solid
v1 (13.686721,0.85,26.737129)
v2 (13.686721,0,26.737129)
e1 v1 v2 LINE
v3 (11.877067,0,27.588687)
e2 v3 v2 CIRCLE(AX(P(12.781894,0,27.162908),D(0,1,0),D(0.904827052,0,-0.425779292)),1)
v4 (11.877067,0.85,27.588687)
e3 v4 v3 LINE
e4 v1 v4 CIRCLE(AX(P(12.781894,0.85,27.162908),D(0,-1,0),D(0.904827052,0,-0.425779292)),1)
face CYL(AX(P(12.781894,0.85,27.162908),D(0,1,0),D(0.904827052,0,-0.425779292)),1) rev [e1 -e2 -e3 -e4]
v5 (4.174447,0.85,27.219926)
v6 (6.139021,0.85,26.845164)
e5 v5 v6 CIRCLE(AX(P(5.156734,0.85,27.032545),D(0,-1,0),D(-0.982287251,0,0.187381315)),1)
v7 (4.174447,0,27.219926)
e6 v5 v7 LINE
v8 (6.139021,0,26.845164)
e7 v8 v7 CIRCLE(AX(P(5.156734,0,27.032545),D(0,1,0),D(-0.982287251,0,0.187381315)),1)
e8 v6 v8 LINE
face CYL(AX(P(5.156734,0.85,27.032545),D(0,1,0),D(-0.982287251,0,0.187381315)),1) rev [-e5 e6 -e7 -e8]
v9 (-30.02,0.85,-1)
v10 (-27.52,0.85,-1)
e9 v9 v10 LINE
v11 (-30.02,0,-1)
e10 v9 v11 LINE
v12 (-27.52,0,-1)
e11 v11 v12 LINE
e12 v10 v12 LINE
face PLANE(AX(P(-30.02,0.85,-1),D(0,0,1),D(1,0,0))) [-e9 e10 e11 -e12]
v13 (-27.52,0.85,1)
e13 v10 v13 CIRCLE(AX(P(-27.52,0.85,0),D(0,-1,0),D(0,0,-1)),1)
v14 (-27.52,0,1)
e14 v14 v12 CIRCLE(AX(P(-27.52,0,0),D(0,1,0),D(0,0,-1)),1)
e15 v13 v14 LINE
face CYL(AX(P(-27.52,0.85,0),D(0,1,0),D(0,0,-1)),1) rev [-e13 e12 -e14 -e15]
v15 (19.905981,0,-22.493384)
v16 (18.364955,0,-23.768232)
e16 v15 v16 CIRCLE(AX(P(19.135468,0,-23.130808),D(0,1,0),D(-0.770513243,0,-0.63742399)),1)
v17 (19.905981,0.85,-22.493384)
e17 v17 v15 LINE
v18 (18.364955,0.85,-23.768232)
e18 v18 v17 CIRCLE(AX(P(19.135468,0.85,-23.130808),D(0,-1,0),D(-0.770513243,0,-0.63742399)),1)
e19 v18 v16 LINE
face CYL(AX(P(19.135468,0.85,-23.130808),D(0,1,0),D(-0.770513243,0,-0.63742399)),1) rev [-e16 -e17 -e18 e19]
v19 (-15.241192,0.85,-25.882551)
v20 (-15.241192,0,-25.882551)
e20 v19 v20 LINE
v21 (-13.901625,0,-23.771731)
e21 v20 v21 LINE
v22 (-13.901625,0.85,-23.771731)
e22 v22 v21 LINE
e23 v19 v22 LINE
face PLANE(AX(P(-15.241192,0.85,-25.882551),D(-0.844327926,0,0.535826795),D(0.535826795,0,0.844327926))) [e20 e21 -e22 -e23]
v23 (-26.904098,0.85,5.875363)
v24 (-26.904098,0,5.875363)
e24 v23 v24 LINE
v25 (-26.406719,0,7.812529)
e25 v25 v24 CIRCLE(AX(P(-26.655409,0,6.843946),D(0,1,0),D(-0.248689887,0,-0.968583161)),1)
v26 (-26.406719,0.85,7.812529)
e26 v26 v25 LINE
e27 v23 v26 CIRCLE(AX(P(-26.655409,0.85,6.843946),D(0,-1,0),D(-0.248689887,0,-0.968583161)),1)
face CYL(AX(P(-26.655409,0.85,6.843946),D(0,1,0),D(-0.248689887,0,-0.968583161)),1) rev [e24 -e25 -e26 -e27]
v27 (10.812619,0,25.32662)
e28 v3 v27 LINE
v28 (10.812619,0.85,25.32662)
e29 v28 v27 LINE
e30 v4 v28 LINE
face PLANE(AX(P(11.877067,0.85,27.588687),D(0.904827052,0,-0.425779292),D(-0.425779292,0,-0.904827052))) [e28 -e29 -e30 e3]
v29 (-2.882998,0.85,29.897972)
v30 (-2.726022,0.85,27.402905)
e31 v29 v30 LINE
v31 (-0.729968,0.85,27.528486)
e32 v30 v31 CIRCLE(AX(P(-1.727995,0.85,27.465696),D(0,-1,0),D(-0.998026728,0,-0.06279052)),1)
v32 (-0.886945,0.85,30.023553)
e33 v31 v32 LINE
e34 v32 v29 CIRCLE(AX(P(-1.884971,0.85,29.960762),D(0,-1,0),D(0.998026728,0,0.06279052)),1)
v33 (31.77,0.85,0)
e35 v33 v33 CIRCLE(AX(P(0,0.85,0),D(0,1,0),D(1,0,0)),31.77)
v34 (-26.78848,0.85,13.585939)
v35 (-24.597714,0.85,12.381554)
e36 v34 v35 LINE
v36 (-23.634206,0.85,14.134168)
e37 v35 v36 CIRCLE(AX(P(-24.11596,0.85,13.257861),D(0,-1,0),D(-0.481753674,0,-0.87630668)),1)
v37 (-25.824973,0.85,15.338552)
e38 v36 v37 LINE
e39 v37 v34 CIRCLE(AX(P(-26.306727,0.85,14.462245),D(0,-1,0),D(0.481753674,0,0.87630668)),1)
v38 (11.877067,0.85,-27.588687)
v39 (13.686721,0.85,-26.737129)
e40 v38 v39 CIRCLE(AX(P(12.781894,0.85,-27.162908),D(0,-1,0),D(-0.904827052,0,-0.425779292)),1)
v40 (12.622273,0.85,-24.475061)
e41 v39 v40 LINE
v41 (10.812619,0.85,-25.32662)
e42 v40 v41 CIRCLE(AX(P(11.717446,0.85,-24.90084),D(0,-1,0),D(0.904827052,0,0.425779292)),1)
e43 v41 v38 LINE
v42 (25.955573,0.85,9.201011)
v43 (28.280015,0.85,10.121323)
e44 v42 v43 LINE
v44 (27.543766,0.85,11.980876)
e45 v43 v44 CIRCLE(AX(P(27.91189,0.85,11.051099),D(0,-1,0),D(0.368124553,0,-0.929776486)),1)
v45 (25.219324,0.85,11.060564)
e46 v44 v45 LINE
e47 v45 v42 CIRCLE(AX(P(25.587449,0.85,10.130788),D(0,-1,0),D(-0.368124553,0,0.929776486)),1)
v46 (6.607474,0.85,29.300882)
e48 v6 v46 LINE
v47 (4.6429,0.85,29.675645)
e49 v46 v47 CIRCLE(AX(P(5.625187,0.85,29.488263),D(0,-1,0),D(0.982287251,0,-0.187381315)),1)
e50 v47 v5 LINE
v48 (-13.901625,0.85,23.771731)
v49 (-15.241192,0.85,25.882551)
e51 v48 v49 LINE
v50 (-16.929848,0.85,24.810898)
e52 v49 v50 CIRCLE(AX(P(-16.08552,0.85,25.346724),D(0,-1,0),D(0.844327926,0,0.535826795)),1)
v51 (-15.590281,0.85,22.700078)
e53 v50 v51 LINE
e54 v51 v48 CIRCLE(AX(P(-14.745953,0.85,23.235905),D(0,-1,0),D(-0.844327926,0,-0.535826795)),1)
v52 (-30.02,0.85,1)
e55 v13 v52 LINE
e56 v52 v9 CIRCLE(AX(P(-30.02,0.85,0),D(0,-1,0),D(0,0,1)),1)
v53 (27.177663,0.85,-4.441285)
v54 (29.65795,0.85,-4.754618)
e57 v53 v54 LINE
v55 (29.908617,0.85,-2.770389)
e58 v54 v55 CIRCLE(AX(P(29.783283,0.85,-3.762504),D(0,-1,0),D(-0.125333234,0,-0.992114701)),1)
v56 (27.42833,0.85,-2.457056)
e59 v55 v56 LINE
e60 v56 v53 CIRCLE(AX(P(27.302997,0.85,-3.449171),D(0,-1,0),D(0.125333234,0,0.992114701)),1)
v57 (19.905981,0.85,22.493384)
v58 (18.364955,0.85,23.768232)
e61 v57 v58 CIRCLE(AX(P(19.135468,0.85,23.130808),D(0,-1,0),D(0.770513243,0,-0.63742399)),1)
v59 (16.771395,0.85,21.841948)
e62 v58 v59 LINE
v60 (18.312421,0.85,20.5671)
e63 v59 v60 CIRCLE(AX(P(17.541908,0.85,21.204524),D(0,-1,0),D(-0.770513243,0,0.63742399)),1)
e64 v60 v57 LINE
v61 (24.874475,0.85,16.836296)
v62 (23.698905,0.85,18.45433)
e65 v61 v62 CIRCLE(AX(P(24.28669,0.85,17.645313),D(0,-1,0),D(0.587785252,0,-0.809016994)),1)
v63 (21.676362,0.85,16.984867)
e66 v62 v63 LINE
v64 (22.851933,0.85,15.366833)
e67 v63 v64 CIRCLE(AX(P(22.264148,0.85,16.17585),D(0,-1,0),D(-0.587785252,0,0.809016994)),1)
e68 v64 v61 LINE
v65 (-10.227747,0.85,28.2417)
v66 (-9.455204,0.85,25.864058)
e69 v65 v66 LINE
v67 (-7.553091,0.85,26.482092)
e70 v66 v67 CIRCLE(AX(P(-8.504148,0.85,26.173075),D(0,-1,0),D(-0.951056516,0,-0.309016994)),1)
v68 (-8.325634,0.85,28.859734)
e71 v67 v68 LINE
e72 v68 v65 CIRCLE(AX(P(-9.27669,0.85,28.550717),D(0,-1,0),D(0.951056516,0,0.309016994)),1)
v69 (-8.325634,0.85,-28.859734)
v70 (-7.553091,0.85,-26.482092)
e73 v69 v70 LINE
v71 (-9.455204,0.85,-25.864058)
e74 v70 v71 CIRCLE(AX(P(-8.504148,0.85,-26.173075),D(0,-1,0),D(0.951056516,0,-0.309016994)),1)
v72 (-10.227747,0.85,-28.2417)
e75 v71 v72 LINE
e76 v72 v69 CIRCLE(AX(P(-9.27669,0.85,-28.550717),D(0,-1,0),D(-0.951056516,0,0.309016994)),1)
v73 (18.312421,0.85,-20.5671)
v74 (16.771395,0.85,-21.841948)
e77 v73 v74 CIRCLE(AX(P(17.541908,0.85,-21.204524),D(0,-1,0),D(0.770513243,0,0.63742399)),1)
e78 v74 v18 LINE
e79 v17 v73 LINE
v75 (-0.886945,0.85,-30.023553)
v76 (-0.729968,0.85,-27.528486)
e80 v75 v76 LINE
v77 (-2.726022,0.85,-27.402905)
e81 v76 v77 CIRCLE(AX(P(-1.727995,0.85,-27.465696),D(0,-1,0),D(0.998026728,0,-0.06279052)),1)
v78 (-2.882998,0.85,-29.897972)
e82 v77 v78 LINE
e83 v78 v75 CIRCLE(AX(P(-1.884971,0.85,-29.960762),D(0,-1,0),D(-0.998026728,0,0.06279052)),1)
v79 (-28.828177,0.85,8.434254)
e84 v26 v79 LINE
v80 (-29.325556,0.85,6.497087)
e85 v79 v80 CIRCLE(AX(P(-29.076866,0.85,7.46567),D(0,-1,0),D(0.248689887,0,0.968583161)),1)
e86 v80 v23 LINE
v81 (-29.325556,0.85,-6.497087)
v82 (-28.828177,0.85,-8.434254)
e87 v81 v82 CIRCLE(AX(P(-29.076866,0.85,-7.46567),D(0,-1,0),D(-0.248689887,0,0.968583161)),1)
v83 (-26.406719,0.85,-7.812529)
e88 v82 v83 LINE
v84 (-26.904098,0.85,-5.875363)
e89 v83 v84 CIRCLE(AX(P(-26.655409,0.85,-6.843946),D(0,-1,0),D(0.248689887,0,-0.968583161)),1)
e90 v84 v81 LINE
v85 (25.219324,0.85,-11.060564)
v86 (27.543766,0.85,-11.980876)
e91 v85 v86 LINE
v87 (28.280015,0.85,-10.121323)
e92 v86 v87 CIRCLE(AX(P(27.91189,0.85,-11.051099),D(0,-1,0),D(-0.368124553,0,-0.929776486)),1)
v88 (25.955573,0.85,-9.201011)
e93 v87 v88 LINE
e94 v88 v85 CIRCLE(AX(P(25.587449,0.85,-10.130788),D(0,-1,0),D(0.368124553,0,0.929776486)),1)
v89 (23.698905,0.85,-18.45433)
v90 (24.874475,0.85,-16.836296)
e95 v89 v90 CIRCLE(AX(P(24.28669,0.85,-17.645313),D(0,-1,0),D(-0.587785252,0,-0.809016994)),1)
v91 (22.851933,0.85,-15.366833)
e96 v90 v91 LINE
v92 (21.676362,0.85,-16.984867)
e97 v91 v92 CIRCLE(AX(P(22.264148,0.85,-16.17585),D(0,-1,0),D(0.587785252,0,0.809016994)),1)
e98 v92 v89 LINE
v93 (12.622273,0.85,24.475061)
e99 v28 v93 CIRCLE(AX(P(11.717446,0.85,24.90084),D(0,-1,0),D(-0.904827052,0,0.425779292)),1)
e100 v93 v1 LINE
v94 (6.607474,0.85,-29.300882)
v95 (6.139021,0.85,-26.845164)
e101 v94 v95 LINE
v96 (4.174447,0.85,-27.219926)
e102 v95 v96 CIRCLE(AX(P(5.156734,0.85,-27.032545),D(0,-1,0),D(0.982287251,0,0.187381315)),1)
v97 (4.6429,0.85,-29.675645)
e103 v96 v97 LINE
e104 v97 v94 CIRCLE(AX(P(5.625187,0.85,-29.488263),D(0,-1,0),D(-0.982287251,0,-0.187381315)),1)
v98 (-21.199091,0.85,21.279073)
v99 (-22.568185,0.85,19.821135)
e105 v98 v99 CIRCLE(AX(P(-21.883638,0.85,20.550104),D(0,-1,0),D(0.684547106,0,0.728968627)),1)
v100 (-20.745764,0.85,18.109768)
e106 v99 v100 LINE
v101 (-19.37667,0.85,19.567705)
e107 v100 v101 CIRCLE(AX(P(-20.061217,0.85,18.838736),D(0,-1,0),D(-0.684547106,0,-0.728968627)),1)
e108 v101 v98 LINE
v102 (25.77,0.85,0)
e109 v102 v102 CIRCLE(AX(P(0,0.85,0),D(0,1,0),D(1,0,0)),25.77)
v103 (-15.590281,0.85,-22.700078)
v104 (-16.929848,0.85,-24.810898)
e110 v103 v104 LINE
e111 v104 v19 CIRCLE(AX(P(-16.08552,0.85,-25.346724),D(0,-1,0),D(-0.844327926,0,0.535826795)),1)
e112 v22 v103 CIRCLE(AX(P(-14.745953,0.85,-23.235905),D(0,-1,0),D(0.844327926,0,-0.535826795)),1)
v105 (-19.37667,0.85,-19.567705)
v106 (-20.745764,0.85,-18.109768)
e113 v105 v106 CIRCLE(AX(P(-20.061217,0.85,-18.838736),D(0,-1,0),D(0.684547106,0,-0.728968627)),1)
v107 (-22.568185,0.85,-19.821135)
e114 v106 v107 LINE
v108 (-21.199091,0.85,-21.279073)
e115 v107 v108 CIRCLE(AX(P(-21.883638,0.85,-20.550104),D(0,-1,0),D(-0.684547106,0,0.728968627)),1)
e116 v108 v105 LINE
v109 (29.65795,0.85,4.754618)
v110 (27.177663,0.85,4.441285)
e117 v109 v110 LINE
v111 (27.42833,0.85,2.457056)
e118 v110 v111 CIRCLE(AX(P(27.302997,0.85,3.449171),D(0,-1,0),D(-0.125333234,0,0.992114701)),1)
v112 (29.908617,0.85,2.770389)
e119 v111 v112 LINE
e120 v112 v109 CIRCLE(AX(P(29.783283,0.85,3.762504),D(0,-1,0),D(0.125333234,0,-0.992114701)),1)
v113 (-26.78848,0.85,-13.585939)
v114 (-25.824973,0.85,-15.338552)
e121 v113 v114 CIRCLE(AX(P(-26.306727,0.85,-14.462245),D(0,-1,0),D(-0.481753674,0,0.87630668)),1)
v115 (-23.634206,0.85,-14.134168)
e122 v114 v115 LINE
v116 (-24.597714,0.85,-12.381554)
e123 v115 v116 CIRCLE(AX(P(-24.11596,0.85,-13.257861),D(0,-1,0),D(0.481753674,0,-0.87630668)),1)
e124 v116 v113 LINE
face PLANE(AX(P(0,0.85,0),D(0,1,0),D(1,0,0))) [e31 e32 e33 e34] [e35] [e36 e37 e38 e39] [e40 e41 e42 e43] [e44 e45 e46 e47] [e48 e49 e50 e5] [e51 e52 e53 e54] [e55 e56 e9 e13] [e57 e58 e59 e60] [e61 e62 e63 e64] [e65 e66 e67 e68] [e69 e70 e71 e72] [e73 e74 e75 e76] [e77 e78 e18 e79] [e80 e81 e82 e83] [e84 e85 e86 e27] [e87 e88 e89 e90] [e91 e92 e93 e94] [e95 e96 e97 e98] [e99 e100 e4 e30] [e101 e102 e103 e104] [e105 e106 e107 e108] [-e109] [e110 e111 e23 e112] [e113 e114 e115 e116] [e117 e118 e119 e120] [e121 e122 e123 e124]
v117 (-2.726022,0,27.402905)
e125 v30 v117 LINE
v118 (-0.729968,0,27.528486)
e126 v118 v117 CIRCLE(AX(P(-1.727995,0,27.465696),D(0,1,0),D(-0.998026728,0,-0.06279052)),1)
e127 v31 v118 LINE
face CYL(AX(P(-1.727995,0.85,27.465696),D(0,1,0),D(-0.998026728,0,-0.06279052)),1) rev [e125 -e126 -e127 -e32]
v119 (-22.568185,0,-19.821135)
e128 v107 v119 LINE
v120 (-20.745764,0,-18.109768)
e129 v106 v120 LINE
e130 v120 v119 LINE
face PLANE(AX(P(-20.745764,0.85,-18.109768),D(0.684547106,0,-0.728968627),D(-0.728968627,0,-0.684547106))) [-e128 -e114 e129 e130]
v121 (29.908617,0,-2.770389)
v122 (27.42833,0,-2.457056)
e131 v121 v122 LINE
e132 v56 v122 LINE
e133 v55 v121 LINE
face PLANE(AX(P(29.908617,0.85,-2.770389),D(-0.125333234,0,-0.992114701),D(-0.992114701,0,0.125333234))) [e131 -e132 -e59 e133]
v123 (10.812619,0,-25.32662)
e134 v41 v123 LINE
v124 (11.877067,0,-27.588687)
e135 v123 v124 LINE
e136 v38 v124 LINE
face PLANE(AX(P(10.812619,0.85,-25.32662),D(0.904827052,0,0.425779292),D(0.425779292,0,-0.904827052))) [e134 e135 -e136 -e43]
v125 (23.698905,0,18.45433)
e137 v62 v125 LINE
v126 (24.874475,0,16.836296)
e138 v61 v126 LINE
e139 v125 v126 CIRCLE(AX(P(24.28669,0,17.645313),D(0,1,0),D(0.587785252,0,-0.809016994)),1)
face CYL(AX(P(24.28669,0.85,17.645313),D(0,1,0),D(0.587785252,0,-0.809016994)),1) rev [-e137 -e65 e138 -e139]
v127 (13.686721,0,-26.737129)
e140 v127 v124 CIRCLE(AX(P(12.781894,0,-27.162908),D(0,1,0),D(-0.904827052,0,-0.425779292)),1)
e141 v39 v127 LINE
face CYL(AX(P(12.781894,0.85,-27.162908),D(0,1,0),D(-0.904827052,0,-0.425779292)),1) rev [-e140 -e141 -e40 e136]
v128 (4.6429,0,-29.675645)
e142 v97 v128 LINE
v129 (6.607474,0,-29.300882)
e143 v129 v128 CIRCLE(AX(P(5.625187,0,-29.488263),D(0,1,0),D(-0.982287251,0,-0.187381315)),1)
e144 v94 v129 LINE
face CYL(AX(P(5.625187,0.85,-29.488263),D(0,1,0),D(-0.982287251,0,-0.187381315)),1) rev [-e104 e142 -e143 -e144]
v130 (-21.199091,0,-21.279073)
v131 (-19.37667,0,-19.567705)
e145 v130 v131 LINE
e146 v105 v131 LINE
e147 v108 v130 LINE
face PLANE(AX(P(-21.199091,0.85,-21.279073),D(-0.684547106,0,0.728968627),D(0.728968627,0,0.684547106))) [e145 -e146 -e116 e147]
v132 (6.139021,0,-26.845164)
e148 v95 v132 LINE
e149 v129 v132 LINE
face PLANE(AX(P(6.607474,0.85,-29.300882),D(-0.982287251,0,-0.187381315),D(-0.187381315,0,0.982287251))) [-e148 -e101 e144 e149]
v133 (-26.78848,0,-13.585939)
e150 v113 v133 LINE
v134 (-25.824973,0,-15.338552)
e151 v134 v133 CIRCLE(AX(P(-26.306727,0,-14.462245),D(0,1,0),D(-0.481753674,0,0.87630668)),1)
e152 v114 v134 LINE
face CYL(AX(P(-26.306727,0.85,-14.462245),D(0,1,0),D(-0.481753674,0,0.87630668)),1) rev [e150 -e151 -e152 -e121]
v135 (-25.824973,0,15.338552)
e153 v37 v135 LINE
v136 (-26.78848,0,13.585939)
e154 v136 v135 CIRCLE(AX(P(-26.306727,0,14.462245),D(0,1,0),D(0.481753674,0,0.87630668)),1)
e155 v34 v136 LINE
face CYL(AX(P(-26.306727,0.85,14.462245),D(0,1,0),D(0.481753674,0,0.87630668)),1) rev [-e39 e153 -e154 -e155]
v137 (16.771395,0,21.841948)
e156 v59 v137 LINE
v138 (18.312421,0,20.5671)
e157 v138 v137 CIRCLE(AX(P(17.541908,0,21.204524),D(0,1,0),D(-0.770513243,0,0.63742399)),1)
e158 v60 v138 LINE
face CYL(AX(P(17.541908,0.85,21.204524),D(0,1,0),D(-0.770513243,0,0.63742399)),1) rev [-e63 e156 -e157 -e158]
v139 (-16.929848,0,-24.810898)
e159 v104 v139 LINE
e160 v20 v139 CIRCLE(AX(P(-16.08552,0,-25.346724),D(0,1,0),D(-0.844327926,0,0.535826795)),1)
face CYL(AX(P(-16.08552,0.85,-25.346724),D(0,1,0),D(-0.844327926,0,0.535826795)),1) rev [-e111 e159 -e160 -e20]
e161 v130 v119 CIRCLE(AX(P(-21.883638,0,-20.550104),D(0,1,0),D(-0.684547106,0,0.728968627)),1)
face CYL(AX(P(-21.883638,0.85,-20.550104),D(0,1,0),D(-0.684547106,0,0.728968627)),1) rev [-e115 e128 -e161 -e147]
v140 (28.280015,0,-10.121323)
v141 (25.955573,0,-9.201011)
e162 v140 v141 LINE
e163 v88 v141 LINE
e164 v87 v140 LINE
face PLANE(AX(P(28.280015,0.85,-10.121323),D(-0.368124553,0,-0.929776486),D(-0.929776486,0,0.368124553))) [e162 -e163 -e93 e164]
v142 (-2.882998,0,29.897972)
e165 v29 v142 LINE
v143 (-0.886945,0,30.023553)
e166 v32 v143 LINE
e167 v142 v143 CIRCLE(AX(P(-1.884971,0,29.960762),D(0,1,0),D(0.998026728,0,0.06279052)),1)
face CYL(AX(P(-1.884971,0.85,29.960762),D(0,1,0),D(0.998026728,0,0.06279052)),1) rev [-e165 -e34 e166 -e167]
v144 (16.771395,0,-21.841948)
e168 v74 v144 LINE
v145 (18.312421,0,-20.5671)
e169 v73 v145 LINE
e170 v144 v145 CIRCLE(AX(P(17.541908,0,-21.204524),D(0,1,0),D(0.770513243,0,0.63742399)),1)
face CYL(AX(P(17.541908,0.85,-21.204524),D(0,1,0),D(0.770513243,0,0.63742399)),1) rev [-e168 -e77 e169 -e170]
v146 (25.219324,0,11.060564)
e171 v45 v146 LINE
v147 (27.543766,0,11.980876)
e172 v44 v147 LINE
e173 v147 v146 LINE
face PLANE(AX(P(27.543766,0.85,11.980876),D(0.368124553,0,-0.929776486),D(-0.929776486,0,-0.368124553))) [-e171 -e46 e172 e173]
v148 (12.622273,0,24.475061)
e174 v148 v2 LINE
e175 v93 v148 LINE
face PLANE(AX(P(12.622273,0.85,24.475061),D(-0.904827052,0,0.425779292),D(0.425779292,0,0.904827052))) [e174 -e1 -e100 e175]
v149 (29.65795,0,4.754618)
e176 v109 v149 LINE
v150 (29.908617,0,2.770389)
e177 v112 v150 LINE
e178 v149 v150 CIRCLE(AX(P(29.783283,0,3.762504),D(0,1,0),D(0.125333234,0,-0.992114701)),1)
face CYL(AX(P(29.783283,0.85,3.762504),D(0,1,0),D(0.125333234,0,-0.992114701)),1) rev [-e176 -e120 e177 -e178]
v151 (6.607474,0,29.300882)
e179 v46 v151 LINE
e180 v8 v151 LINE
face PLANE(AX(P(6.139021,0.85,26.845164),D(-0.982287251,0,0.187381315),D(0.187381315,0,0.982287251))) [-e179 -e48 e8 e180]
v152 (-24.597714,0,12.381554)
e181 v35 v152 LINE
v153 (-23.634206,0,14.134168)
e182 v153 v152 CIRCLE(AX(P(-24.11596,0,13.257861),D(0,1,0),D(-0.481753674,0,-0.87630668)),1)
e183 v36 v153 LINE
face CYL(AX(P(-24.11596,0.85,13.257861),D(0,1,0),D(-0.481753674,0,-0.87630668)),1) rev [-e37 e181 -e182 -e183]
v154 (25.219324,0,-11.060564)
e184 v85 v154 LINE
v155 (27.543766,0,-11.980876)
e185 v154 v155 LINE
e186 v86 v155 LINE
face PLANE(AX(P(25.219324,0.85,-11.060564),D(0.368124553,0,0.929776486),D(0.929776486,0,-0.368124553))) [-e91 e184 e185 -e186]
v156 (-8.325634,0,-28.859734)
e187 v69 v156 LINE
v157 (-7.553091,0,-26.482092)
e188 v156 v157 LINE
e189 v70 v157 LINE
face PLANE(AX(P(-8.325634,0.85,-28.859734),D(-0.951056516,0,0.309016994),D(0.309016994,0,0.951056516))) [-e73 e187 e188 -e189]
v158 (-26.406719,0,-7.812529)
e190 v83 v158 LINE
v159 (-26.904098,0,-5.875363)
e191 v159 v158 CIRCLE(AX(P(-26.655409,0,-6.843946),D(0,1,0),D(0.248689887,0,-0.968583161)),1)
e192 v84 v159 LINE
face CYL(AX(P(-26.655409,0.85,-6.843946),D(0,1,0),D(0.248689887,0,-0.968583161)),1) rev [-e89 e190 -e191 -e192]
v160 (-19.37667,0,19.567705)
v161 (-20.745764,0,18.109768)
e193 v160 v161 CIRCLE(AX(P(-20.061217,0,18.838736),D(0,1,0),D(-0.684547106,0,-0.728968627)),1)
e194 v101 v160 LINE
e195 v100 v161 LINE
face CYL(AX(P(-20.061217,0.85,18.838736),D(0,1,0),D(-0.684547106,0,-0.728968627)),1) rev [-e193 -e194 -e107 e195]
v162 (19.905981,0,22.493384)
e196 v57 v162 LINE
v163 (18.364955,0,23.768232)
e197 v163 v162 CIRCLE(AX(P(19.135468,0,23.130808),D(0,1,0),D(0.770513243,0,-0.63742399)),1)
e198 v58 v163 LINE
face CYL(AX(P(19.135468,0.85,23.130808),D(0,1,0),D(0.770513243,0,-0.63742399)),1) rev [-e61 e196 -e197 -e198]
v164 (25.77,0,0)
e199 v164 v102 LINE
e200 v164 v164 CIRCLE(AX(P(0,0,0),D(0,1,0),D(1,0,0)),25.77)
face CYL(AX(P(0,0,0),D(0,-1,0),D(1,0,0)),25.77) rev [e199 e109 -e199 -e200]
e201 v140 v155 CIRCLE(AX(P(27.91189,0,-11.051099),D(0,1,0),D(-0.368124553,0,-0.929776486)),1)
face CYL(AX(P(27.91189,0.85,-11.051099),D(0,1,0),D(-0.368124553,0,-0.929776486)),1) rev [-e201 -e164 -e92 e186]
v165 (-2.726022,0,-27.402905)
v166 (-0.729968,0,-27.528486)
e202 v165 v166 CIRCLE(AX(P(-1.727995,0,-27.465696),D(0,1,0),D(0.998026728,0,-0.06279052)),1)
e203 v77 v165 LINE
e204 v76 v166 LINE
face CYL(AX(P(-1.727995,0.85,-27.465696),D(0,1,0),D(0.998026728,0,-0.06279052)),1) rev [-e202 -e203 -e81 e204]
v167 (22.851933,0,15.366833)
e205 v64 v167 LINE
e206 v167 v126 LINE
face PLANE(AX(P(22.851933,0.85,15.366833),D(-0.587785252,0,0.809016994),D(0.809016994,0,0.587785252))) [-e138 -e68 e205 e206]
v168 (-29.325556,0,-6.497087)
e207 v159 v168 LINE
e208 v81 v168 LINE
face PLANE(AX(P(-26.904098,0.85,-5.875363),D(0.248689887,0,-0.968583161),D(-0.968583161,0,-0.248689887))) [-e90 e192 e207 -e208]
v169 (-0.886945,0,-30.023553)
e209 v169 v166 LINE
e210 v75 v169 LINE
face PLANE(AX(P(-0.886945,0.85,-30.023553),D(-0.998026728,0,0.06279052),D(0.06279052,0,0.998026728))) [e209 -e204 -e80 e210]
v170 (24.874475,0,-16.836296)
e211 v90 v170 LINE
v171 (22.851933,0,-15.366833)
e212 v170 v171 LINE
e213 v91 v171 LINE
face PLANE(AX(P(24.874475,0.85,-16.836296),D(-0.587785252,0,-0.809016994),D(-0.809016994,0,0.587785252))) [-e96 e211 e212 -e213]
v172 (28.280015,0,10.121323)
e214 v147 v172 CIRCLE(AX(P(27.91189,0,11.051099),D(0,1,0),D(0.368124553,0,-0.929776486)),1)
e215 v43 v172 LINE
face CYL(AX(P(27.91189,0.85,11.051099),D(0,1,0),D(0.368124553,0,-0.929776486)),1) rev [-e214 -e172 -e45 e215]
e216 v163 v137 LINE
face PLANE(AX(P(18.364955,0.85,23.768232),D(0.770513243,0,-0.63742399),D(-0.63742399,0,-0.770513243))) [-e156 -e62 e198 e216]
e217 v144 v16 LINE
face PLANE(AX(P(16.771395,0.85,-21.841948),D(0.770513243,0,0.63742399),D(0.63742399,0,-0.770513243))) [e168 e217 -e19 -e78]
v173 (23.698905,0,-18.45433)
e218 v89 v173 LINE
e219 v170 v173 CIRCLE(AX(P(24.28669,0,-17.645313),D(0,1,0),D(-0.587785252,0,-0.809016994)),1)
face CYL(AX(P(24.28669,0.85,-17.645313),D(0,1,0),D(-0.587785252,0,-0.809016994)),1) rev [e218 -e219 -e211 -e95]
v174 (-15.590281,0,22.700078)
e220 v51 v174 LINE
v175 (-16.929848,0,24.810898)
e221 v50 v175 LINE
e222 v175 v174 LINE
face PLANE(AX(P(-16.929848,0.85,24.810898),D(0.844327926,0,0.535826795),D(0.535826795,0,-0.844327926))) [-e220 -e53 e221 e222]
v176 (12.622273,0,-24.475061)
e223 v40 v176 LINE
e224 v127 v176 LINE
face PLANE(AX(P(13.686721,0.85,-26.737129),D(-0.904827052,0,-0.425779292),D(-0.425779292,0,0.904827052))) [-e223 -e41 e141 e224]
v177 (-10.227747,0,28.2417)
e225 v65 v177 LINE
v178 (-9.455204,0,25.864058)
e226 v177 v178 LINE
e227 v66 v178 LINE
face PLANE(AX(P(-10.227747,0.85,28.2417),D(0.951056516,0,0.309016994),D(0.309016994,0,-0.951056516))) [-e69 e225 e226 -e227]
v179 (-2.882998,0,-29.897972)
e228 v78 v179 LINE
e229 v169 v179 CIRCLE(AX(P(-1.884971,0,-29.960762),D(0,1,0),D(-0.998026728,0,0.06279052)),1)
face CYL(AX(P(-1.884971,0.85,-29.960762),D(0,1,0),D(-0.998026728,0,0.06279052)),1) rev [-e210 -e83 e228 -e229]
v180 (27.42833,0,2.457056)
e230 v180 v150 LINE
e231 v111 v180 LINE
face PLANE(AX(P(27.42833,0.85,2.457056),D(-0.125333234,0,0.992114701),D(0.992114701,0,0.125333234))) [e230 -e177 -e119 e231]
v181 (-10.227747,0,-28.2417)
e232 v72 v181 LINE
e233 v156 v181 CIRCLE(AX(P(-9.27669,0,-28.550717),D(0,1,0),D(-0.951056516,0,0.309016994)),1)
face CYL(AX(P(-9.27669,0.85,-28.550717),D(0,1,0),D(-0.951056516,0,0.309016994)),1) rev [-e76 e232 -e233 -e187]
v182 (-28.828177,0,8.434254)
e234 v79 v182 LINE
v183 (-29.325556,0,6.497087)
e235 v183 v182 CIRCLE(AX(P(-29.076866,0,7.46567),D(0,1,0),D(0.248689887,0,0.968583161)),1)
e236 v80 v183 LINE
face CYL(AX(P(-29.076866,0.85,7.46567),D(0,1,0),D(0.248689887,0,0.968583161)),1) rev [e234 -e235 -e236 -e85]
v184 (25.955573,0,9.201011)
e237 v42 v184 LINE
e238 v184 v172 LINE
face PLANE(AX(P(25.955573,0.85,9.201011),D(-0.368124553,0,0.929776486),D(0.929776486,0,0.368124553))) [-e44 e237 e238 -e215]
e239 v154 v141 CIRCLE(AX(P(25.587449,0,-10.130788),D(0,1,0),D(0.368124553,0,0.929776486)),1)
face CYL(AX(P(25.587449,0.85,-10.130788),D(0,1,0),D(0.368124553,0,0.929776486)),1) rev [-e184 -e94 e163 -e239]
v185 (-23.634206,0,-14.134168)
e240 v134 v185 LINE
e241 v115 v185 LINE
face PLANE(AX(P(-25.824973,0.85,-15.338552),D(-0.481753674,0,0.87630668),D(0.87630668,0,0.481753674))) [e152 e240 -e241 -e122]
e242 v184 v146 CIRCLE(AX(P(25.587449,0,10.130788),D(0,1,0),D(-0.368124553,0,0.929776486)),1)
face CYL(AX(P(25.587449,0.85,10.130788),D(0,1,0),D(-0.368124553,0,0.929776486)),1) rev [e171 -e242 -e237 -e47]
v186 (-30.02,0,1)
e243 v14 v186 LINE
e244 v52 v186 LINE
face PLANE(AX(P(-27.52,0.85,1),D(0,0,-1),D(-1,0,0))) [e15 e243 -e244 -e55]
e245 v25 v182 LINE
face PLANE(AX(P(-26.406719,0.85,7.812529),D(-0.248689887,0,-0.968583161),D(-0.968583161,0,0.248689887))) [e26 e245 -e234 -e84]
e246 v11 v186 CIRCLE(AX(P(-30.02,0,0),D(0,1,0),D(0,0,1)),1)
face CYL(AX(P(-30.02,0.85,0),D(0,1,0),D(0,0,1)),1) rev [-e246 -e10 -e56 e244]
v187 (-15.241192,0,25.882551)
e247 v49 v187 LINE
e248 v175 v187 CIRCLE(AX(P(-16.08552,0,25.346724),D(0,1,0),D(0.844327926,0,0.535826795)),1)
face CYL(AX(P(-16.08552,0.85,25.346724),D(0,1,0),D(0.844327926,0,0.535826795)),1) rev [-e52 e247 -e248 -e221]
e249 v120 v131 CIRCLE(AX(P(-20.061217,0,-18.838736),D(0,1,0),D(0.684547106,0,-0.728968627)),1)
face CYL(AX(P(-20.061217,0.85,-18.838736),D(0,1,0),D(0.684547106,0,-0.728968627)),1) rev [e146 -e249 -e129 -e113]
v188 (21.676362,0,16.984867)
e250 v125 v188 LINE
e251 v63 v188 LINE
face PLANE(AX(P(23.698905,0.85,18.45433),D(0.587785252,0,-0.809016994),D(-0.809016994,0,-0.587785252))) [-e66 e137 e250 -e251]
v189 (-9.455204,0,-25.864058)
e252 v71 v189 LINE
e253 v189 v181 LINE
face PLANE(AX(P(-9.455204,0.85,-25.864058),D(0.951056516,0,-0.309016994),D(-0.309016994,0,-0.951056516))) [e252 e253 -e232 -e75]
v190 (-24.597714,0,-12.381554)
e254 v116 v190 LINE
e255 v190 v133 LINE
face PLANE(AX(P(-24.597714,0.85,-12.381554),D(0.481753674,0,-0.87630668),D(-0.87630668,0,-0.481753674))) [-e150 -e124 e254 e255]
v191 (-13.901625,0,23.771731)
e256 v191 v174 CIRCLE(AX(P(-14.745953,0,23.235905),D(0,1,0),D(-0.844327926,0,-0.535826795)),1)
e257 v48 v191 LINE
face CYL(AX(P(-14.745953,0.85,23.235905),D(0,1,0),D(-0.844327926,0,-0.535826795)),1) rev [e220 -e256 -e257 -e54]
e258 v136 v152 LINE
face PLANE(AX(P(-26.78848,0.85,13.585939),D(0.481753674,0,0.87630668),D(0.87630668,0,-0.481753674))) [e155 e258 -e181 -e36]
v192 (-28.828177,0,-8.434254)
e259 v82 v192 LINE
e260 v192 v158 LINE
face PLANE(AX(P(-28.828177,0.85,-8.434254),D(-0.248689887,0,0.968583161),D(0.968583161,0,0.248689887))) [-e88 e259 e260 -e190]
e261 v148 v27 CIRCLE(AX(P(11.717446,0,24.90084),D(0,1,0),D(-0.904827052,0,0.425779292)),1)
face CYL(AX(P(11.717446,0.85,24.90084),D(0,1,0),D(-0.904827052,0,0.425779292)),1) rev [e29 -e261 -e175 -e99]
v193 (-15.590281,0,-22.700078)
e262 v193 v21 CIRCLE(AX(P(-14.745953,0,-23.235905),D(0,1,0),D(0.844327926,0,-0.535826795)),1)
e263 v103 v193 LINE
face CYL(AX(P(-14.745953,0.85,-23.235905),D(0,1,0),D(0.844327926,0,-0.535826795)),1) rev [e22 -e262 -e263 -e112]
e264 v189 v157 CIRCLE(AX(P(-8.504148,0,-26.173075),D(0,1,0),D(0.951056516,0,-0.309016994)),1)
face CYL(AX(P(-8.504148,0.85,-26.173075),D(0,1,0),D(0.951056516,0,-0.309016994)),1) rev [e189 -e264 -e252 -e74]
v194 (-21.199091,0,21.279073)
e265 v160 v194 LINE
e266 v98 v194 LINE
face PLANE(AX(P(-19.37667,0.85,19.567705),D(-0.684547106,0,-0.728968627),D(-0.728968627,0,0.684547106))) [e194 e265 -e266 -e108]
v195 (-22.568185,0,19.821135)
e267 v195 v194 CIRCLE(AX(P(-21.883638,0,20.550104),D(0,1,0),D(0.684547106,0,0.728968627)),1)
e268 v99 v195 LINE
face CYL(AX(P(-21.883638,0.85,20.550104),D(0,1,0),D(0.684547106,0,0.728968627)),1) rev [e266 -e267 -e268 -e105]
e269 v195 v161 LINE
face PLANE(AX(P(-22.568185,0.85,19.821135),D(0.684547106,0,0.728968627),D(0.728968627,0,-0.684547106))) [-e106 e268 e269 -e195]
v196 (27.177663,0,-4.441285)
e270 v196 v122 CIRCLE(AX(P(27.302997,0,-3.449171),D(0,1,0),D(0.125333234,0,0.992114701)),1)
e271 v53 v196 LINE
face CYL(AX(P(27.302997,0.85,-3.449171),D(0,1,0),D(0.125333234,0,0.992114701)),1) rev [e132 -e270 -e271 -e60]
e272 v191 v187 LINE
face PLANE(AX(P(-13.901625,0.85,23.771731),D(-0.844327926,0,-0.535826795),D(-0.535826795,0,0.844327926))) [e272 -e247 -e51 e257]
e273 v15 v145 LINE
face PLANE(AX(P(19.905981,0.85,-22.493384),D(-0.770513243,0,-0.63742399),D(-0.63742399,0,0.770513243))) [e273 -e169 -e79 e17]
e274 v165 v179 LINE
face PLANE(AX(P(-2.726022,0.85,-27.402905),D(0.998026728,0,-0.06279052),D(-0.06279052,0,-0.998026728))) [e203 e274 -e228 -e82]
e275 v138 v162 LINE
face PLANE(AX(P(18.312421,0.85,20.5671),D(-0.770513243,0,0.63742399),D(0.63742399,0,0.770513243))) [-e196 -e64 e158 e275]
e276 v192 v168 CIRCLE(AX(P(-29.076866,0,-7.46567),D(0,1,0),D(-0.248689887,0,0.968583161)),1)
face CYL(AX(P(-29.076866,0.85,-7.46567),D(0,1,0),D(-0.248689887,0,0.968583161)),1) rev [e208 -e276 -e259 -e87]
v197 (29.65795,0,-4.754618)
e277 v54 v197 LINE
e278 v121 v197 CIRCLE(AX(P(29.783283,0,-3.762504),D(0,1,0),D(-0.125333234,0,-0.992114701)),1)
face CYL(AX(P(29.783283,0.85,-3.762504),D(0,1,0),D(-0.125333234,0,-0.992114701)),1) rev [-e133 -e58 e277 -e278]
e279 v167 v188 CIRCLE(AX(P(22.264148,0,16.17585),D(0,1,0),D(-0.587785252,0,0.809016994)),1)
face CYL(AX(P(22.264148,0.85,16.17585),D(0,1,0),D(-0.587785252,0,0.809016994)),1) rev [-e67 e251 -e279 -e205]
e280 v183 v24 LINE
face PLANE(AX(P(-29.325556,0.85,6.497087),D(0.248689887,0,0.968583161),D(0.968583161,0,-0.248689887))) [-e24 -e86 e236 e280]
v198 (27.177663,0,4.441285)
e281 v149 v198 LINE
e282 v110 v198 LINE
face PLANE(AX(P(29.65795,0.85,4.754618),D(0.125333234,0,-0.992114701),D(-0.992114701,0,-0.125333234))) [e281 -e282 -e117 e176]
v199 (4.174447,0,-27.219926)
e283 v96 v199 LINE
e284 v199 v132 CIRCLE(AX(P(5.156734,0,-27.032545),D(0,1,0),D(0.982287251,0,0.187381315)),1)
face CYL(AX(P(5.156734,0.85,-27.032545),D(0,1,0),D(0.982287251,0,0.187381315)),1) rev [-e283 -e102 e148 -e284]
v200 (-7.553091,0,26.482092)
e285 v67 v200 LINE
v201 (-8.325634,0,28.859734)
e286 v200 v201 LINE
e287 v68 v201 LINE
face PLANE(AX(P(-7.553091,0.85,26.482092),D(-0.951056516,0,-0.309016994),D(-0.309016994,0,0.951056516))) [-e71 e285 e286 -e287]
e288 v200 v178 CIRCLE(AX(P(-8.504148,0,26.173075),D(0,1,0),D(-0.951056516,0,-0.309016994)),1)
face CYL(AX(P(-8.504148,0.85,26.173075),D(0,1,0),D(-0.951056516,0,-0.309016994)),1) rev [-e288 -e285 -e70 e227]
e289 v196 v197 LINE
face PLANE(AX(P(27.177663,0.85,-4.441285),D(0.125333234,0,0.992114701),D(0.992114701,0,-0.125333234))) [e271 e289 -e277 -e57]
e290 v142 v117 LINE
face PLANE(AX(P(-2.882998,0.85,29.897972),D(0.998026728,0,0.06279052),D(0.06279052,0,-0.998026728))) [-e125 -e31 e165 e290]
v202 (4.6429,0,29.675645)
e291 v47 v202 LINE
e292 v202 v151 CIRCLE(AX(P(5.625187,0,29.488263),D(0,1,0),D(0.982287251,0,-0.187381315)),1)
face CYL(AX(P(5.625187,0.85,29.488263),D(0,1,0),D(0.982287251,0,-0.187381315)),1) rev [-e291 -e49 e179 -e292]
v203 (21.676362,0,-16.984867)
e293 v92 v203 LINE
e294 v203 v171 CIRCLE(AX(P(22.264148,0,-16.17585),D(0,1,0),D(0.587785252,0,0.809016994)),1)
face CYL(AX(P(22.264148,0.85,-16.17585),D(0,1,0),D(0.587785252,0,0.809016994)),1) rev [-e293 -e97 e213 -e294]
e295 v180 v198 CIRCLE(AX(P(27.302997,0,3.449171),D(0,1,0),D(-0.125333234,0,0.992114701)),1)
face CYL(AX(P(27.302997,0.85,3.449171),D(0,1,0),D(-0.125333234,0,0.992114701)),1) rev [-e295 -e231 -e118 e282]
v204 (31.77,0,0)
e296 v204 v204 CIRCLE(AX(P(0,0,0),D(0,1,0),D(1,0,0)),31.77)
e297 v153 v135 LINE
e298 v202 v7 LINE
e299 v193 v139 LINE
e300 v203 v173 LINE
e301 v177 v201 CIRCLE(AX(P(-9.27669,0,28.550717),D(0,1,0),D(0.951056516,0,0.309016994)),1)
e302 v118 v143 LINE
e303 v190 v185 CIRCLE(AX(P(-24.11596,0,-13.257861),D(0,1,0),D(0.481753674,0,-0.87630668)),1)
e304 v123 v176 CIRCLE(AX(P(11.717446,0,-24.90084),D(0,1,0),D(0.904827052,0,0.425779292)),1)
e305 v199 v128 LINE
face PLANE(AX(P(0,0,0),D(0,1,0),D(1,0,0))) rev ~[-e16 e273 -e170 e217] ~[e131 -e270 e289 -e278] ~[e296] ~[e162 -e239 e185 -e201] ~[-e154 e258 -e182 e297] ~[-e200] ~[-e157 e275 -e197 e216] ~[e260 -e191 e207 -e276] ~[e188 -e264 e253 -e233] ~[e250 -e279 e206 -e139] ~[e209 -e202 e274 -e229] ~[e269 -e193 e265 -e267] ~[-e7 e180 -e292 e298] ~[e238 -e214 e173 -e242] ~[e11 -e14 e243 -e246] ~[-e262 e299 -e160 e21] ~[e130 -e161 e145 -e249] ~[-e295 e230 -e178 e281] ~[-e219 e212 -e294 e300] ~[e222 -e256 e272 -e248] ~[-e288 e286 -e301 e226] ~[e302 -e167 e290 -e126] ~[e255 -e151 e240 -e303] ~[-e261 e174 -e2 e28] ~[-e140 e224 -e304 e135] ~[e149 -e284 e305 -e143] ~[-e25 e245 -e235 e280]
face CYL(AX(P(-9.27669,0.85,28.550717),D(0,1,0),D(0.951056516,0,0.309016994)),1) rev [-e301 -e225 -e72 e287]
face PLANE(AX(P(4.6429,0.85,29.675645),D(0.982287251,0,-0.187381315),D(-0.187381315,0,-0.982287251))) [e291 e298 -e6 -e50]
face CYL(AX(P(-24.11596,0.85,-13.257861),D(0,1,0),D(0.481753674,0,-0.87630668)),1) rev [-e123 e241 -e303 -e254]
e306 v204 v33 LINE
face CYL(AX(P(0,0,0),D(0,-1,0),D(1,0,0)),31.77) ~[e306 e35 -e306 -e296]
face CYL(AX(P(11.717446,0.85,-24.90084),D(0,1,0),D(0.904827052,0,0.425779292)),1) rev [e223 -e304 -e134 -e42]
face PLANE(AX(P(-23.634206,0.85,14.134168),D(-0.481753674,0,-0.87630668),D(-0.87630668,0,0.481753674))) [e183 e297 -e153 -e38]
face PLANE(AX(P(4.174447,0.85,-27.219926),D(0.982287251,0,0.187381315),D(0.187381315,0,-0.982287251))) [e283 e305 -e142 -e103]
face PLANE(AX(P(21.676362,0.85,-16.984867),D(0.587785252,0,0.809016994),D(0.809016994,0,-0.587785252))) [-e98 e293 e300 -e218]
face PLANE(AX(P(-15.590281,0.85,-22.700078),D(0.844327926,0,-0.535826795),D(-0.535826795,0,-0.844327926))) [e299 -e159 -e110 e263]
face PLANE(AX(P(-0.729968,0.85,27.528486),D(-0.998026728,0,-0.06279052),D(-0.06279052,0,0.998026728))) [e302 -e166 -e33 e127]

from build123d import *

# Parameters (mm, degrees)
SKETCH1_R           = 31.77
SKETCH1_R_2         = 25.77
BOSS_EXTRUDE1_DEPTH = 0.85
CUT_EXTRUDE1_DEPTH  = 1.85
CIRPATTERN1_COUNT   = 25


with BuildPart() as part:
    # Sketch1 → Boss-Extrude1 (new body)
    with BuildSketch(Plane(origin=(0, 0, 0), x_dir=(1, 0, 0), z_dir=(0, 1, 0))):
        Circle(SKETCH1_R)
        Circle(SKETCH1_R_2, mode=Mode.SUBTRACT)
    extrude(amount=BOSS_EXTRUDE1_DEPTH)

    # Sketch3 → Cut-Extrude1 (cut, through all)
    with BuildSketch(Plane(origin=(0, 0.85, 0), x_dir=(1, 0, 0), z_dir=(0, 1, 0))):
        with BuildLine():
            Line((-30.02, 1), (-27.52, 1))
            ThreePointArc((-27.52, 1), (-26.52, 0), (-27.52, -1))
            Line((-27.52, -1), (-30.02, -1))
            ThreePointArc((-30.02, -1), (-31.02, 0), (-30.02, 1))
        make_face()
    cut_extrude1 = extrude(amount=-CUT_EXTRUDE1_DEPTH, mode=Mode.SUBTRACT)

    # CirPattern1: Cut-Extrude1 ×25 about axis
    cirpattern1_axis = Axis((0, 0, 0), (0, 1, 0))
    for i in range(1, CIRPATTERN1_COUNT):
        add(cut_extrude1.rotate(cirpattern1_axis, i * 360 / CIRPATTERN1_COUNT), mode=Mode.SUBTRACT)


solid = part.part
